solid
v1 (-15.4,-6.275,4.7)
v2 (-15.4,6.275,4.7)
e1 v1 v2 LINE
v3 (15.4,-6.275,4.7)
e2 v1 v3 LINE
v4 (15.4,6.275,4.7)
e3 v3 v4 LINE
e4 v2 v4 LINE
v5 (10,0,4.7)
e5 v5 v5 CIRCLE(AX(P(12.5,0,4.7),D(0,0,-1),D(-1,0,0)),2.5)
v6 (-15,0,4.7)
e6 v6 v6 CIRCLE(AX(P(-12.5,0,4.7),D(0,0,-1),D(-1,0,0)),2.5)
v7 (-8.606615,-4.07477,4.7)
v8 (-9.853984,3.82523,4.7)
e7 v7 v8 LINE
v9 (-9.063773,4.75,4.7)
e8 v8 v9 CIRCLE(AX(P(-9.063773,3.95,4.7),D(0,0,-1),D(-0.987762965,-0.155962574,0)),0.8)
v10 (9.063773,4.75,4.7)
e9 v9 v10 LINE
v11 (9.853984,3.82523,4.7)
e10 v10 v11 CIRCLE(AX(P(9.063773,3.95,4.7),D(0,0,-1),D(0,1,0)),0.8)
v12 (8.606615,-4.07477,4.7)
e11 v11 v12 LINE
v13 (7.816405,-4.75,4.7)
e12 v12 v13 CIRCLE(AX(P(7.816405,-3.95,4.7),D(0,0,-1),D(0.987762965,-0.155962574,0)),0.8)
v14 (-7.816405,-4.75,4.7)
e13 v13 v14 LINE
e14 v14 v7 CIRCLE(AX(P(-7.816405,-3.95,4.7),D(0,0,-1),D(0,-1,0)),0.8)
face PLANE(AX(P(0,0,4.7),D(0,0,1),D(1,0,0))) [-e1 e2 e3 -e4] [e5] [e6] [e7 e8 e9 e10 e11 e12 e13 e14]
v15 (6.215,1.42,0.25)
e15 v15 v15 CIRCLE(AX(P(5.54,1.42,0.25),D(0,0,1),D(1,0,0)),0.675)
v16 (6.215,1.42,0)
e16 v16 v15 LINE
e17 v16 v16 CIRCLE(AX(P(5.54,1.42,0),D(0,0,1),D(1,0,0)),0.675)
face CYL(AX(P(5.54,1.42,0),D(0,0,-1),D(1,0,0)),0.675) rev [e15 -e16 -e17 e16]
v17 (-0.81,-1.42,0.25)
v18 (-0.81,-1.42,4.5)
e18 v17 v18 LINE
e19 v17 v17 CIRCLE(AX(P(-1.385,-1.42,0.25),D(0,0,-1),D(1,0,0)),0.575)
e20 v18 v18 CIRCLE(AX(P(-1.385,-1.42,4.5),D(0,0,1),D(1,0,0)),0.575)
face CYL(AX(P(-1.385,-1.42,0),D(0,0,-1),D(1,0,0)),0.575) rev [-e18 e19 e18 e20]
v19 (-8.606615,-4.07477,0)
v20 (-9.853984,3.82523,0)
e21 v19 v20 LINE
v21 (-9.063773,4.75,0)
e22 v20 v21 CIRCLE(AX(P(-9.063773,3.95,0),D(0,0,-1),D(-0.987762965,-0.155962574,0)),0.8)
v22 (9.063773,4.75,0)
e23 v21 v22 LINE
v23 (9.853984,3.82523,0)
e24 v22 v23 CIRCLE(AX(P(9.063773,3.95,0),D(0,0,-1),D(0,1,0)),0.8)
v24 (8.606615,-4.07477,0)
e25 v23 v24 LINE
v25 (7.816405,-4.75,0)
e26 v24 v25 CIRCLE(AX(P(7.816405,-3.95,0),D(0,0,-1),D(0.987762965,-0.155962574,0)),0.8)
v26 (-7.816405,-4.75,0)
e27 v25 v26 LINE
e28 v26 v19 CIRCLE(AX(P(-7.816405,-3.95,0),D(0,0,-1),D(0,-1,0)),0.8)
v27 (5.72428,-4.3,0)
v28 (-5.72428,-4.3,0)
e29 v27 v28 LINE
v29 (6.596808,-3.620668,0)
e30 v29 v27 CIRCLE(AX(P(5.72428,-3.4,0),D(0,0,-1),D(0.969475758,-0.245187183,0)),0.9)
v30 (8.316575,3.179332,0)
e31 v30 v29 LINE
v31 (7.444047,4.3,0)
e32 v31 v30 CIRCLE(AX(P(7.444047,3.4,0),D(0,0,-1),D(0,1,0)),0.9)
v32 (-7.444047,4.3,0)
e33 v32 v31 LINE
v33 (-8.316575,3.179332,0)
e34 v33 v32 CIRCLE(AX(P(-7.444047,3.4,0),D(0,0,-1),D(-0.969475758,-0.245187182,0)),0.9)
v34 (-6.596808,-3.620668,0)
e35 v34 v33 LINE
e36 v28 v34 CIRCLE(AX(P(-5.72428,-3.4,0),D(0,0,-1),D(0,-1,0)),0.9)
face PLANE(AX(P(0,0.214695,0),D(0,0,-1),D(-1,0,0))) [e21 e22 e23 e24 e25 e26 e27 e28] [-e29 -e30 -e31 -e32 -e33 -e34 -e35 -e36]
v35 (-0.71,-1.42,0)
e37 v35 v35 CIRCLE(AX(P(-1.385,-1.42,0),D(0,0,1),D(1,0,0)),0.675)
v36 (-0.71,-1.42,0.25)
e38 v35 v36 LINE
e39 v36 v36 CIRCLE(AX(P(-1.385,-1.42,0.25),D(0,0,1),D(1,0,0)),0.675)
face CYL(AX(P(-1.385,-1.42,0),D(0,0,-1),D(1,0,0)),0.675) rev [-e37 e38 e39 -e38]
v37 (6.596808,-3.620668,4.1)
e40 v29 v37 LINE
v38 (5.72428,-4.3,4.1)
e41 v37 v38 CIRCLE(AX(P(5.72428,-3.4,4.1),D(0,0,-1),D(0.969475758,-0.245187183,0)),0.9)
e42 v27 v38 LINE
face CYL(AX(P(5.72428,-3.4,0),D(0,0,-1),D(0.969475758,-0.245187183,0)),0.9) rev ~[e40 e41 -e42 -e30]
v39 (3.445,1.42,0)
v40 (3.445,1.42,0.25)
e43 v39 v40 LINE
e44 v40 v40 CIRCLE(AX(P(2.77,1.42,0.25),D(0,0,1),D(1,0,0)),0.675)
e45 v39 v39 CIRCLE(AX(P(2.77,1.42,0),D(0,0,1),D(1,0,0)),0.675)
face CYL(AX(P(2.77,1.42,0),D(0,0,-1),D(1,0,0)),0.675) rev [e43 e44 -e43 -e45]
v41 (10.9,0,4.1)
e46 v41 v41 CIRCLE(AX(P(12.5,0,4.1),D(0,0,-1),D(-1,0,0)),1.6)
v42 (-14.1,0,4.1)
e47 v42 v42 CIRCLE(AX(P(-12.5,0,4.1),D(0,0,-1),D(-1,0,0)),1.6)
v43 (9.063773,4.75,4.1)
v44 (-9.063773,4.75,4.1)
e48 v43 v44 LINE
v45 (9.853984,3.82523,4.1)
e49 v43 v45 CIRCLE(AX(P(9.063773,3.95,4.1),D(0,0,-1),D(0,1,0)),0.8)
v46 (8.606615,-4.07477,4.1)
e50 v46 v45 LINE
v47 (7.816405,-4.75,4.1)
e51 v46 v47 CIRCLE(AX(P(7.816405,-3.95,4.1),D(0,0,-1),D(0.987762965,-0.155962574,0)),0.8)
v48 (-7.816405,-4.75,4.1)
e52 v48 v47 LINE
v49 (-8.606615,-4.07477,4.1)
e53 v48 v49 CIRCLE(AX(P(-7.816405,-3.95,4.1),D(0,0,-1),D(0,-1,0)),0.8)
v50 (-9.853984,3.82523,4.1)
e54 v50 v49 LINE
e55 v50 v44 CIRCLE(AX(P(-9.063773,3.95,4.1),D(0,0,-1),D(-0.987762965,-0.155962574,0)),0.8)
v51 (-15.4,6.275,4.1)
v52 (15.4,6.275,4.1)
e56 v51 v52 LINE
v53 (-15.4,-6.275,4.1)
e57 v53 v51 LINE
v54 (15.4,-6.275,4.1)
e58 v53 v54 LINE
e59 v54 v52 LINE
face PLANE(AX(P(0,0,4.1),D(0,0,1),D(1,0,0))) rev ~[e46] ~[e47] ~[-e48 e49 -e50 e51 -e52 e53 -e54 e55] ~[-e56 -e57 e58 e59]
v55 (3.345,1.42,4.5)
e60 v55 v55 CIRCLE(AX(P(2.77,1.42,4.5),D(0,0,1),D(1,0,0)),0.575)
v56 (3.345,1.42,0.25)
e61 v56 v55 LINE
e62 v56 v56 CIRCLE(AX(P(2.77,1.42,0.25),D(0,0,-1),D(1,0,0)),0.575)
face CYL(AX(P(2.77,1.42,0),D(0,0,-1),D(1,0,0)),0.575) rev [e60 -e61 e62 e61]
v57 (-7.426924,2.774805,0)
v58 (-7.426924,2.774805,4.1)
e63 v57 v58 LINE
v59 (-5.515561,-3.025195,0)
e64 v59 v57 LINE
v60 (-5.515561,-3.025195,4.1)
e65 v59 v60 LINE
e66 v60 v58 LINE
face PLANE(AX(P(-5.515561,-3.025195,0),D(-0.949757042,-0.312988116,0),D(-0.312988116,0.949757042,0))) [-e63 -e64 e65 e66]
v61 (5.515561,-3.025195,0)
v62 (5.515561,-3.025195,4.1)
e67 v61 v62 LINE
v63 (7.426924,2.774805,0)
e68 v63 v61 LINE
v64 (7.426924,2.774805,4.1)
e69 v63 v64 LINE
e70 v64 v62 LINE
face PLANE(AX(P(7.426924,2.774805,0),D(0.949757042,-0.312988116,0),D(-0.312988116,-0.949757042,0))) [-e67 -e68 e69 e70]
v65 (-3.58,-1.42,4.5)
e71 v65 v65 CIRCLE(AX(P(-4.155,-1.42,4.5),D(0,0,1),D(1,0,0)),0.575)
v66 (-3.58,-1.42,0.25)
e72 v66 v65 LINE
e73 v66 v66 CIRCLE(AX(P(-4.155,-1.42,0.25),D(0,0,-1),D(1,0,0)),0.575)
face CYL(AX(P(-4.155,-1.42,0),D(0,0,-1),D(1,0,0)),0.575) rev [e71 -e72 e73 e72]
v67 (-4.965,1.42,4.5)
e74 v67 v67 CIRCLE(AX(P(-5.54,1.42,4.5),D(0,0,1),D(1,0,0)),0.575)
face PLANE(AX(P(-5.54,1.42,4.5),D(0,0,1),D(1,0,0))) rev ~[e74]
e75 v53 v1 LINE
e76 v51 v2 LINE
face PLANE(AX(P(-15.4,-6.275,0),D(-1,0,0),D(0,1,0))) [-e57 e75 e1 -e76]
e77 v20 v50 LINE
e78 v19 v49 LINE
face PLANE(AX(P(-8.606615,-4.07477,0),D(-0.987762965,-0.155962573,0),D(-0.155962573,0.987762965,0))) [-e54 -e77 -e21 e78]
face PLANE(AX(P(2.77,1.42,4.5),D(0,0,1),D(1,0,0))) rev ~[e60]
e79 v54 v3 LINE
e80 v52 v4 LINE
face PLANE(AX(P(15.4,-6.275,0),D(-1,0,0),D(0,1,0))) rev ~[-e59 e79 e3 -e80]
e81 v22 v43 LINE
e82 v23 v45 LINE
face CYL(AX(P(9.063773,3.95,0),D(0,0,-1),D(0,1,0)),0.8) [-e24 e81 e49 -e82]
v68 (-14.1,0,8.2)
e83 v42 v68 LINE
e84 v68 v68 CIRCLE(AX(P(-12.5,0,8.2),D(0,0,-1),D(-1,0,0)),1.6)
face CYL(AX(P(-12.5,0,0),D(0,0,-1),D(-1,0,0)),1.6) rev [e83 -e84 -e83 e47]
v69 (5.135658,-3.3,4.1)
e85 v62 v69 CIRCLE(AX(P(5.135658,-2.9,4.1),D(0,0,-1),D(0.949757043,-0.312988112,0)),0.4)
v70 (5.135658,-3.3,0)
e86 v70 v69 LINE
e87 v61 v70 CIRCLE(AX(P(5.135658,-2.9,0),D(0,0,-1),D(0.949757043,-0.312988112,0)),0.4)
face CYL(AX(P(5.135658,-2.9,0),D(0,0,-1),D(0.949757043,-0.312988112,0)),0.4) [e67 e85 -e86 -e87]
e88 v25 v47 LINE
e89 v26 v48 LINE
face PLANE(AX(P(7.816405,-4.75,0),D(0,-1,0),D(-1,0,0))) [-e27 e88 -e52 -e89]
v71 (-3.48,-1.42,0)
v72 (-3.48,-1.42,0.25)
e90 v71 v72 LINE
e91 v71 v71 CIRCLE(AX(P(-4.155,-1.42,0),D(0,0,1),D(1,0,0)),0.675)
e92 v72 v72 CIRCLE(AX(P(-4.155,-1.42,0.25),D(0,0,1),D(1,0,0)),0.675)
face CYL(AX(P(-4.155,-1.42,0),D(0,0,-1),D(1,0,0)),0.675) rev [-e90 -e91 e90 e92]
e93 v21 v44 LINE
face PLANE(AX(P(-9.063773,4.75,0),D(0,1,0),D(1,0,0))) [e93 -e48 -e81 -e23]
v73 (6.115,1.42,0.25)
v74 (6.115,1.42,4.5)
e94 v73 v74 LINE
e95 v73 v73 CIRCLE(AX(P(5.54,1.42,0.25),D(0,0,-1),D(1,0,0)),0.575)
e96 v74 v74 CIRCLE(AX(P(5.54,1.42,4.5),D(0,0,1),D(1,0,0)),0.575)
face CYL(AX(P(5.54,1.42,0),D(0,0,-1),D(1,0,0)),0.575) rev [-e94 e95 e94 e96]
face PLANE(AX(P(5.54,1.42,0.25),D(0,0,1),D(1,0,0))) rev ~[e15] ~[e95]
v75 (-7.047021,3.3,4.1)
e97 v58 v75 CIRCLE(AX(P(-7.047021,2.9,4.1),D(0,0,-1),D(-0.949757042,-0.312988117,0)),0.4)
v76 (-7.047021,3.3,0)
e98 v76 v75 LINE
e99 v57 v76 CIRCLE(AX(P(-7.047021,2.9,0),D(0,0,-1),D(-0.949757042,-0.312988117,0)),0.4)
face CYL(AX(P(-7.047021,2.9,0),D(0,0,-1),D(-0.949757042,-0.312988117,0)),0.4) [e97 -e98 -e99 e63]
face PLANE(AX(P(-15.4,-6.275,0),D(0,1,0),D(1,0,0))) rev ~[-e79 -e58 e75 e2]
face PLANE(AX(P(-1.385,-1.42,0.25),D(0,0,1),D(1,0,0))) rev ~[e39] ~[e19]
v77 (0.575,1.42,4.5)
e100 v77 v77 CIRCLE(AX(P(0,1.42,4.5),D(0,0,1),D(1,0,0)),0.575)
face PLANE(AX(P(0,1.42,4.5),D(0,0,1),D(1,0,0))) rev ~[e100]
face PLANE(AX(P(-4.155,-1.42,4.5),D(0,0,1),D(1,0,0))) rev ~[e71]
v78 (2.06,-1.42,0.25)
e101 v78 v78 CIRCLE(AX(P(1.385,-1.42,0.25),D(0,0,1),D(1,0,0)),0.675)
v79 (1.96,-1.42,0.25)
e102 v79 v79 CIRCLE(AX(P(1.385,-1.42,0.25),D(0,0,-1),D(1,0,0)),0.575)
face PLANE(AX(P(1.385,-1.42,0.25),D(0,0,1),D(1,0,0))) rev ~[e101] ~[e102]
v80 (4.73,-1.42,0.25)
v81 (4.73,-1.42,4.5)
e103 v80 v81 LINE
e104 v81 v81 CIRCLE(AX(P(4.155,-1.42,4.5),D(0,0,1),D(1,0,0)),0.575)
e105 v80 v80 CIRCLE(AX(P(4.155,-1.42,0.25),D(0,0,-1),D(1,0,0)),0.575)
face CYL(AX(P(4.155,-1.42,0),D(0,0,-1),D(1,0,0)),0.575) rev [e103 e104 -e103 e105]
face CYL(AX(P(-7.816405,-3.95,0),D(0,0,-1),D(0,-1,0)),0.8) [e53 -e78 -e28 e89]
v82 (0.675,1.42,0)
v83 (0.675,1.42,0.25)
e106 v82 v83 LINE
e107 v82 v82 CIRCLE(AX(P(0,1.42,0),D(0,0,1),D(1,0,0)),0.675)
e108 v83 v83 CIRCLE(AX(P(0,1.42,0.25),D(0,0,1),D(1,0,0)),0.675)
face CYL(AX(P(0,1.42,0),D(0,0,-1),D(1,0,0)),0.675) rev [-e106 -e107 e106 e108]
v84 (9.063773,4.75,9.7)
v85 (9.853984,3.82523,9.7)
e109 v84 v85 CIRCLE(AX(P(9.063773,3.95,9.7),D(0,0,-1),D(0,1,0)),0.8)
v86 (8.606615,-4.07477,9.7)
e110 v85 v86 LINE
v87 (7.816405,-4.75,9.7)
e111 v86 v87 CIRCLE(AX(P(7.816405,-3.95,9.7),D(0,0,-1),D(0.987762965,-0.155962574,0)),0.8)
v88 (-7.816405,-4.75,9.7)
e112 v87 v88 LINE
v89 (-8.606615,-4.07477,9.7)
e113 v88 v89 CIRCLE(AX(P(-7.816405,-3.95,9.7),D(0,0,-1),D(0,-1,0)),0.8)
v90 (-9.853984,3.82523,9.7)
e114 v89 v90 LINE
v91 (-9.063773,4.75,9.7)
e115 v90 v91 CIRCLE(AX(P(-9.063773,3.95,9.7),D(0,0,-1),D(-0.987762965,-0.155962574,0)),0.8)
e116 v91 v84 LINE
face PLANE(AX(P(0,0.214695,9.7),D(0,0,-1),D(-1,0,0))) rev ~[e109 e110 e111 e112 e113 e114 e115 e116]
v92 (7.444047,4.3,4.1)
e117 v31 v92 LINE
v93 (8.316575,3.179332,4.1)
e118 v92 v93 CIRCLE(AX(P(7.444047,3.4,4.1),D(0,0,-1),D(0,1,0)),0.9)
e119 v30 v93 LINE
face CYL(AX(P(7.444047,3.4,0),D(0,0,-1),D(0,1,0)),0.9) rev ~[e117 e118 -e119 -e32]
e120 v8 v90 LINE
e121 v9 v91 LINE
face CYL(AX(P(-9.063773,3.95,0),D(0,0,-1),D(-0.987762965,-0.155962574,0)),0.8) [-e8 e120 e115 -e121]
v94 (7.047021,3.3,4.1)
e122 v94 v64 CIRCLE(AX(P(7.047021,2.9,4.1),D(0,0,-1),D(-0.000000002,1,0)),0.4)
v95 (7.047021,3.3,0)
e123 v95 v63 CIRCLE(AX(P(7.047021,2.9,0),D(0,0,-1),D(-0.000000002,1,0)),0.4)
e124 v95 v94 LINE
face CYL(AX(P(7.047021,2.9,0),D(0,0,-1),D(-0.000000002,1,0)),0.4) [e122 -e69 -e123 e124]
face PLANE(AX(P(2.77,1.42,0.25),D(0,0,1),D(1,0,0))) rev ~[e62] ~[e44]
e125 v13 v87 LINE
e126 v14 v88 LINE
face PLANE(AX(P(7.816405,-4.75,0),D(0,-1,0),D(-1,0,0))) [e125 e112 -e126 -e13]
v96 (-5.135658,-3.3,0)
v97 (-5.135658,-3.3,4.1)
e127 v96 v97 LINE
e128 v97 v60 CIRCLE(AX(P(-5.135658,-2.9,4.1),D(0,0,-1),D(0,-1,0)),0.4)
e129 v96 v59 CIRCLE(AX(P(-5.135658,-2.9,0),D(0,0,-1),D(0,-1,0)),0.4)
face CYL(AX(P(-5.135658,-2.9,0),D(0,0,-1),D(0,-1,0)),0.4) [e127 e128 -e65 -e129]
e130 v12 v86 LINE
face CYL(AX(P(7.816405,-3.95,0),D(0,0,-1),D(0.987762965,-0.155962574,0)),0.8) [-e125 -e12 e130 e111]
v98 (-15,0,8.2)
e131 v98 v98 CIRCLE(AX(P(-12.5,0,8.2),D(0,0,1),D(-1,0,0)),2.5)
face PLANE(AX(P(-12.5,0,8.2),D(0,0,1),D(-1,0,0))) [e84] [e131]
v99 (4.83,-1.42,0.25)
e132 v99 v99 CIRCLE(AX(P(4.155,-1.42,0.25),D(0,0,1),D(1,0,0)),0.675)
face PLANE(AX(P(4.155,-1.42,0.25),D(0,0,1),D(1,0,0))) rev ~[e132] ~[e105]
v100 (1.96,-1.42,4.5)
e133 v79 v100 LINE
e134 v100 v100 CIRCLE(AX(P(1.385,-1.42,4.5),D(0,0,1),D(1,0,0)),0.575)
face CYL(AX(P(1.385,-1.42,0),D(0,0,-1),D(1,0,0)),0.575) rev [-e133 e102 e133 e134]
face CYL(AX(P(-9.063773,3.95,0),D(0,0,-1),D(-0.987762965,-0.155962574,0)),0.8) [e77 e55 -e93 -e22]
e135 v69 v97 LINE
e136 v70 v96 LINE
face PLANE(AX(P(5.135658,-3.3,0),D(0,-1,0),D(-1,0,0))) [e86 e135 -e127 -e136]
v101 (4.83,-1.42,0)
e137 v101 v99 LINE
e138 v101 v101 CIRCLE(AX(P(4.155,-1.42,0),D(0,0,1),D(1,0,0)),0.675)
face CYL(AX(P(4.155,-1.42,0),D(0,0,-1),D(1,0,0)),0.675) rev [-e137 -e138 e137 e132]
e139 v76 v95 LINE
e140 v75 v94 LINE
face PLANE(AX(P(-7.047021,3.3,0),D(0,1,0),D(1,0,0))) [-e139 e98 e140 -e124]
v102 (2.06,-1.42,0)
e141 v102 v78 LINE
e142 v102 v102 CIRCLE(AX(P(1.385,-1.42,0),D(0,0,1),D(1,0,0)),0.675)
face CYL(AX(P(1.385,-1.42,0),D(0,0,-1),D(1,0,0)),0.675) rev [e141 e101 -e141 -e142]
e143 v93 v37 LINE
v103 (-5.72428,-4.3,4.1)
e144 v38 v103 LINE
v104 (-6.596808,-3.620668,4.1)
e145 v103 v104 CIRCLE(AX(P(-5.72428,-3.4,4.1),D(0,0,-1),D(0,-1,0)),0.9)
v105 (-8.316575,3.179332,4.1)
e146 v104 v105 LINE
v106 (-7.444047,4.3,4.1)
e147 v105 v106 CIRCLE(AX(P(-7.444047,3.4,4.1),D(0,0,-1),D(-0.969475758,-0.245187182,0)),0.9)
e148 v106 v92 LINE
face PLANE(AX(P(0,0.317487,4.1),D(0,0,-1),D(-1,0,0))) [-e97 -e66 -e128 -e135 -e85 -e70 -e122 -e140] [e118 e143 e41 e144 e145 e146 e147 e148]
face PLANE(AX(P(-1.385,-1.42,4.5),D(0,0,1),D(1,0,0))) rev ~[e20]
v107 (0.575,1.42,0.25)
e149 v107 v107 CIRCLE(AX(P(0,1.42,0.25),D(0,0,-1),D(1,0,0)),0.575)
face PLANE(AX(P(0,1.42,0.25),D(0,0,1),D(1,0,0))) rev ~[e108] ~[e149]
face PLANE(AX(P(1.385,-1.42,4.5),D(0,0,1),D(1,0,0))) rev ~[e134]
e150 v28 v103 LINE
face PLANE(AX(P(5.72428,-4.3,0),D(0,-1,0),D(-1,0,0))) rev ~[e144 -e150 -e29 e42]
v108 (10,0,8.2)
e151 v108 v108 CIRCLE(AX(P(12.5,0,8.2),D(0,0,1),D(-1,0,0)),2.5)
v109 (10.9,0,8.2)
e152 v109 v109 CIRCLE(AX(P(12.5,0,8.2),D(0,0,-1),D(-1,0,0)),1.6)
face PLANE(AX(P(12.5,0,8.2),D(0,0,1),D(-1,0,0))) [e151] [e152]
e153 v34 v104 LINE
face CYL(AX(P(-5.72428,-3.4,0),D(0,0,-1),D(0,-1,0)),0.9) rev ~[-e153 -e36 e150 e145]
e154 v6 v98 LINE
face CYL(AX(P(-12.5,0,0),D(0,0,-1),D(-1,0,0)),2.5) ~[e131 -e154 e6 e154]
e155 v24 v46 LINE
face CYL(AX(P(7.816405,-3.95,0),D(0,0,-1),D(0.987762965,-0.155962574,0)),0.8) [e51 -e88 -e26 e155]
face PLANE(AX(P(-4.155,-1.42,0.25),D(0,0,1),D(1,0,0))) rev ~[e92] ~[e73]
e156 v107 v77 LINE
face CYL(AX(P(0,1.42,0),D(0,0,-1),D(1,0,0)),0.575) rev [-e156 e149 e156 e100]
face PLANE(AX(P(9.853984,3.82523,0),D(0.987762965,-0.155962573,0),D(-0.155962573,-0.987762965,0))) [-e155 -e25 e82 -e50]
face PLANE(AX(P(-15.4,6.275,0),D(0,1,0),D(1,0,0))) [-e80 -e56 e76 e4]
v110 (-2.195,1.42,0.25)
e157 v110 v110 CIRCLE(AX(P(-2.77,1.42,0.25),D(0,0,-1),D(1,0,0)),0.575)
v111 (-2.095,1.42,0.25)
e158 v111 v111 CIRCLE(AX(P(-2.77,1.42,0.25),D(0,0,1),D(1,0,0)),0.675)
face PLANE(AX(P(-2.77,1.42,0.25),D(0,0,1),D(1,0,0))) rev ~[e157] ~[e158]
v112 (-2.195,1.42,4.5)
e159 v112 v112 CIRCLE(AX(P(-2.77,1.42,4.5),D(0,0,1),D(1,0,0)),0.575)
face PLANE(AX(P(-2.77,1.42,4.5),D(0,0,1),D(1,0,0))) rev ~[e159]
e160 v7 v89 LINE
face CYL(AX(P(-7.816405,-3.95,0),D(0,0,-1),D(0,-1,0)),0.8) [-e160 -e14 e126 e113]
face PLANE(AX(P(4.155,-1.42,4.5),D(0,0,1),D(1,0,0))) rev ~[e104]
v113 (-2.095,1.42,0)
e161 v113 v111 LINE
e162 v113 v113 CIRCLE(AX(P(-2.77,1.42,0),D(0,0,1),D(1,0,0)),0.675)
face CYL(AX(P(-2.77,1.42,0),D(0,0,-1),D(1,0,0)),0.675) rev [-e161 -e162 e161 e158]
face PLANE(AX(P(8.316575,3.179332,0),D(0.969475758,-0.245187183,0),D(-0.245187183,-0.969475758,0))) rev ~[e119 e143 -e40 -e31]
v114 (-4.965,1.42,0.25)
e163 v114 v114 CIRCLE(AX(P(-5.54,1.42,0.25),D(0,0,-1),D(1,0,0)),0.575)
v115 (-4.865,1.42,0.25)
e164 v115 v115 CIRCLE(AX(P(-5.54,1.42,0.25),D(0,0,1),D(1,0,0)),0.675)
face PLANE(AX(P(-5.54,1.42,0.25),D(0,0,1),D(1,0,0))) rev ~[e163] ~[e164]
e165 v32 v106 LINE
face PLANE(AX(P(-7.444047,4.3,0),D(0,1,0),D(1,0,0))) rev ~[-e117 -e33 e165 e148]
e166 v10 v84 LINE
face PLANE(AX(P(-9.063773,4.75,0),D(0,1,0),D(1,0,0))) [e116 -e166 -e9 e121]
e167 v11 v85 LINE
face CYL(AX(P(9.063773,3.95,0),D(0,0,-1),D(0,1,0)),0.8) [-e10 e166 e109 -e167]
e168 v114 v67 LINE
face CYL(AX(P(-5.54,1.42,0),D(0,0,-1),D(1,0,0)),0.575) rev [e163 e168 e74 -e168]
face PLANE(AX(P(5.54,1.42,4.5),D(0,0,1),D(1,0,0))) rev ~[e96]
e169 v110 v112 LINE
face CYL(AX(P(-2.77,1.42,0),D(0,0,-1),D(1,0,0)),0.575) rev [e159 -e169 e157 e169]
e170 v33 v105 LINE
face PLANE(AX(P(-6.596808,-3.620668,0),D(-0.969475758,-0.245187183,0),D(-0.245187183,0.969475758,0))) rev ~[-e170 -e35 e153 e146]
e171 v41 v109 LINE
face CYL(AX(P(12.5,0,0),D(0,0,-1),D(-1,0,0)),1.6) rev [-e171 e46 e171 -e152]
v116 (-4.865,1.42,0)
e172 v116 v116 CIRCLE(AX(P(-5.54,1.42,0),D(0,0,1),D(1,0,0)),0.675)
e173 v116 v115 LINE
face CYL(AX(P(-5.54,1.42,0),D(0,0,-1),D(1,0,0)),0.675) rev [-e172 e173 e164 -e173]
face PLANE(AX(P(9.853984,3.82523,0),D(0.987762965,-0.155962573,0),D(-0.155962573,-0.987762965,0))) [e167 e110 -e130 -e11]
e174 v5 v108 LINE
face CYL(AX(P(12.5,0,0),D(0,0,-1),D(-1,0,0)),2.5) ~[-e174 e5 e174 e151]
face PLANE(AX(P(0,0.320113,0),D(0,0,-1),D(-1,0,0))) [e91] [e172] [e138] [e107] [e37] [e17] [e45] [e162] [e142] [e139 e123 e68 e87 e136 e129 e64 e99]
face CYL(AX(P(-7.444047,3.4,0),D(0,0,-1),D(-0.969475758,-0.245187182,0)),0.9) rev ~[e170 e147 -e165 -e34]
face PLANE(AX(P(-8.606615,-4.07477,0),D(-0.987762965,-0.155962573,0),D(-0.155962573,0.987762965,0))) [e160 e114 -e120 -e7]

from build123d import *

# Parameters (mm, degrees)
F3_01_CONTINUOUSSOCKETBODY_D9_70_DEPTH     = 9.7
SKETCH_2_W                                 = 30.8
SKETCH_2_H                                 = 12.55
F3_02_FLANGEBLANK_TOZ4_70_DEPTH            = 4.7
SKETCH_3_R                                 = 2.5
F3_03_FIXEDPOSTBLANK_TOZ8_20_DEPTH         = 8.2
SKETCH_4_W                                 = 30.8
SKETCH_4_H                                 = 12.55
F3_04_FRONTRELIEF_TOZ4_10_DEPTH            = 4.1
F3_05_RESTOREPROTRUDINGSOCKETNOSE_DEPTH    = 4.2
F3_06_DRECEIVEROUTERPOCKET_D4_10_DEPTH     = 4.1
F3_07_DRECEIVERINNERISLAND_DEPTH           = 4.2
SKETCH_8_R                                 = 0.575
F3_08_9CONTACTHOLES_DIA1_15_D4_50_DEPTH    = 4.5
SKETCH_9_R                                 = 0.675
F3_09_EQUIVALENTLEADIN_DIA1_35_D0_25_DEPTH = 0.25
SKETCH_10_R                                = 1.6
F3_10_FIXEDPOSTBORES_DIA3_20_DEPTH         = 8.3


with BuildPart() as part:
    # 草图1 → F3_01_ContinuousSocketBody_D9.70 (new body)
    with BuildSketch(Plane.XY):
        with BuildLine():
            Line((-9.063773303, 4.75), (9.063773303, 4.75))
            ThreePointArc((9.063773303, 4.75), (9.671973947, 4.469703739), (9.853983675, 3.825229941))
            Line((9.853983675, 3.825229941), (8.606615254, -4.074770059))
            ThreePointArc((8.606615254, -4.074770059), (8.336108621, -4.558200644), (7.816404882, -4.75))
            Line((7.816404882, -4.75), (-7.816404882, -4.75))
            ThreePointArc((-7.816404882, -4.75), (-8.336108621, -4.558200644), (-8.606615254, -4.074770059))
            Line((-8.606615254, -4.074770059), (-9.853983675, 3.825229941))
            ThreePointArc((-9.853983675, 3.825229941), (-9.671973947, 4.469703739), (-9.063773303, 4.75))
        make_face()
    extrude(amount=F3_01_CONTINUOUSSOCKETBODY_D9_70_DEPTH)

    # 草图2 → F3_02_FlangeBlank_ToZ4.70 (add)
    with BuildSketch(Plane.XY):
        Rectangle(SKETCH_2_W, SKETCH_2_H)
    extrude(amount=F3_02_FLANGEBLANK_TOZ4_70_DEPTH)

    # 草图3 → F3_03_FixedPostBlank_ToZ8.20 (add)
    with BuildSketch(Plane.XY):
        with Locations(Location((-12.5, 0, 0), (0, 0, 180))):
            Circle(SKETCH_3_R)
        with Locations(Location((12.5, 0, 0), (0, 0, 180))):
            Circle(SKETCH_3_R)
    extrude(amount=F3_03_FIXEDPOSTBLANK_TOZ8_20_DEPTH)

    # 草图4 → F3_04_FrontRelief_ToZ4.10 (cut)
    with BuildSketch(Plane.XY):
        Rectangle(SKETCH_4_W, SKETCH_4_H)
    extrude(amount=F3_04_FRONTRELIEF_TOZ4_10_DEPTH, mode=Mode.SUBTRACT)

    # 草图5 → F3_05_RestoreProtrudingSocketNose (add)
    with BuildSketch(Plane.XY):
        with BuildLine():
            Line((-9.063773303, 4.75), (9.063773303, 4.75))
            ThreePointArc((9.063773303, 4.75), (9.671973947, 4.469703739), (9.853983675, 3.825229941))
            Line((9.853983675, 3.825229941), (8.606615254, -4.074770059))
            ThreePointArc((8.606615254, -4.074770059), (8.336108621, -4.558200644), (7.816404882, -4.75))
            Line((7.816404882, -4.75), (-7.816404882, -4.75))
            ThreePointArc((-7.816404882, -4.75), (-8.336108621, -4.558200644), (-8.606615254, -4.074770059))
            Line((-8.606615254, -4.074770059), (-9.853983675, 3.825229941))
            ThreePointArc((-9.853983675, 3.825229941), (-9.671973947, 4.469703739), (-9.063773303, 4.75))
        make_face()
    extrude(amount=F3_05_RESTOREPROTRUDINGSOCKETNOSE_DEPTH)

    # 草图6 → F3_06_DReceiverOuterPocket_D4.10 (cut)
    with BuildSketch(Plane.XY):
        with BuildLine():
            Line((-7.444046944, 4.3), (7.444046944, 4.3))
            ThreePointArc((7.444046944, 4.3), (8.154188345, 3.952900706), (8.316575127, 3.179331535))
            Line((8.316575127, 3.179331535), (6.596807685, -3.620668465))
            ThreePointArc((6.596807685, -3.620668465), (6.277180209, -4.110141401), (5.724279503, -4.3))
            Line((5.724279503, -4.3), (-5.724279503, -4.3))
            ThreePointArc((-5.724279503, -4.3), (-6.277180209, -4.110141401), (-6.596807685, -3.620668465))
            Line((-6.596807685, -3.620668465), (-8.316575127, 3.179331535))
            ThreePointArc((-8.316575127, 3.179331535), (-8.154188345, 3.952900706), (-7.444046944, 4.3))
        make_face()
    extrude(amount=F3_06_DRECEIVEROUTERPOCKET_D4_10_DEPTH, mode=Mode.SUBTRACT)

    # 草图7 → F3_07_DReceiverInnerIsland (add)
    with BuildSketch(Plane.XY):
        with BuildLine():
            Line((-7.047021477, 3.3), (7.047021477, 3.3))
            ThreePointArc((7.047021477, 3.3), (7.371118761, 3.13443752), (7.426924294, 2.774804754))
            Line((7.426924294, 2.774804754), (5.515560657, -3.025195246))
            ThreePointArc((5.515560657, -3.025195246), (5.37009536, -3.224097284), (5.135657841, -3.3))
            Line((5.135657841, -3.3), (-5.135657841, -3.3))
            ThreePointArc((-5.135657841, -3.3), (-5.37009536, -3.224097284), (-5.515560657, -3.025195246))
            Line((-5.515560657, -3.025195246), (-7.426924294, 2.774804754))
            ThreePointArc((-7.426924294, 2.774804754), (-7.371118761, 3.13443752), (-7.047021477, 3.3))
        make_face()
    extrude(amount=F3_07_DRECEIVERINNERISLAND_DEPTH)

    # 草图8 → F3_08_9ContactHoles_Dia1.15_D4.50 (cut)
    with BuildSketch(Plane.XY):
        with Locations((-5.54, 1.42)):
            Circle(SKETCH_8_R)
        with Locations((-2.77, 1.42)):
            Circle(SKETCH_8_R)
        with Locations((0, 1.42)):
            Circle(SKETCH_8_R)
        with Locations((2.77, 1.42)):
            Circle(SKETCH_8_R)
        with Locations((5.54, 1.42)):
            Circle(SKETCH_8_R)
        with Locations((-4.155, -1.42)):
            Circle(SKETCH_8_R)
        with Locations((-1.385, -1.42)):
            Circle(SKETCH_8_R)
        with Locations((1.385, -1.42)):
            Circle(SKETCH_8_R)
        with Locations((4.155, -1.42)):
            Circle(SKETCH_8_R)
    extrude(amount=F3_08_9CONTACTHOLES_DIA1_15_D4_50_DEPTH, mode=Mode.SUBTRACT)

    # 草图9 → F3_09_EquivalentLeadIn_Dia1.35_D0.25 (cut)
    with BuildSketch(Plane.XY):
        with Locations((-5.54, 1.42)):
            Circle(SKETCH_9_R)
        with Locations((-2.77, 1.42)):
            Circle(SKETCH_9_R)
        with Locations((0, 1.42)):
            Circle(SKETCH_9_R)
        with Locations((2.77, 1.42)):
            Circle(SKETCH_9_R)
        with Locations((5.54, 1.42)):
            Circle(SKETCH_9_R)
        with Locations((-4.155, -1.42)):
            Circle(SKETCH_9_R)
        with Locations((-1.385, -1.42)):
            Circle(SKETCH_9_R)
        with Locations((1.385, -1.42)):
            Circle(SKETCH_9_R)
        with Locations((4.155, -1.42)):
            Circle(SKETCH_9_R)
    extrude(amount=F3_09_EQUIVALENTLEADIN_DIA1_35_D0_25_DEPTH, mode=Mode.SUBTRACT)

    # 草图10 → F3_10_FixedPostBores_Dia3.20 (cut)
    with BuildSketch(Plane.XY):
        with Locations(Location((-12.5, 0, 0), (0, 0, 180))):
            Circle(SKETCH_10_R)
        with Locations(Location((12.5, 0, 0), (0, 0, 180))):
            Circle(SKETCH_10_R)
    extrude(amount=F3_10_FIXEDPOSTBORES_DIA3_20_DEPTH, mode=Mode.SUBTRACT)


solid = part.part
